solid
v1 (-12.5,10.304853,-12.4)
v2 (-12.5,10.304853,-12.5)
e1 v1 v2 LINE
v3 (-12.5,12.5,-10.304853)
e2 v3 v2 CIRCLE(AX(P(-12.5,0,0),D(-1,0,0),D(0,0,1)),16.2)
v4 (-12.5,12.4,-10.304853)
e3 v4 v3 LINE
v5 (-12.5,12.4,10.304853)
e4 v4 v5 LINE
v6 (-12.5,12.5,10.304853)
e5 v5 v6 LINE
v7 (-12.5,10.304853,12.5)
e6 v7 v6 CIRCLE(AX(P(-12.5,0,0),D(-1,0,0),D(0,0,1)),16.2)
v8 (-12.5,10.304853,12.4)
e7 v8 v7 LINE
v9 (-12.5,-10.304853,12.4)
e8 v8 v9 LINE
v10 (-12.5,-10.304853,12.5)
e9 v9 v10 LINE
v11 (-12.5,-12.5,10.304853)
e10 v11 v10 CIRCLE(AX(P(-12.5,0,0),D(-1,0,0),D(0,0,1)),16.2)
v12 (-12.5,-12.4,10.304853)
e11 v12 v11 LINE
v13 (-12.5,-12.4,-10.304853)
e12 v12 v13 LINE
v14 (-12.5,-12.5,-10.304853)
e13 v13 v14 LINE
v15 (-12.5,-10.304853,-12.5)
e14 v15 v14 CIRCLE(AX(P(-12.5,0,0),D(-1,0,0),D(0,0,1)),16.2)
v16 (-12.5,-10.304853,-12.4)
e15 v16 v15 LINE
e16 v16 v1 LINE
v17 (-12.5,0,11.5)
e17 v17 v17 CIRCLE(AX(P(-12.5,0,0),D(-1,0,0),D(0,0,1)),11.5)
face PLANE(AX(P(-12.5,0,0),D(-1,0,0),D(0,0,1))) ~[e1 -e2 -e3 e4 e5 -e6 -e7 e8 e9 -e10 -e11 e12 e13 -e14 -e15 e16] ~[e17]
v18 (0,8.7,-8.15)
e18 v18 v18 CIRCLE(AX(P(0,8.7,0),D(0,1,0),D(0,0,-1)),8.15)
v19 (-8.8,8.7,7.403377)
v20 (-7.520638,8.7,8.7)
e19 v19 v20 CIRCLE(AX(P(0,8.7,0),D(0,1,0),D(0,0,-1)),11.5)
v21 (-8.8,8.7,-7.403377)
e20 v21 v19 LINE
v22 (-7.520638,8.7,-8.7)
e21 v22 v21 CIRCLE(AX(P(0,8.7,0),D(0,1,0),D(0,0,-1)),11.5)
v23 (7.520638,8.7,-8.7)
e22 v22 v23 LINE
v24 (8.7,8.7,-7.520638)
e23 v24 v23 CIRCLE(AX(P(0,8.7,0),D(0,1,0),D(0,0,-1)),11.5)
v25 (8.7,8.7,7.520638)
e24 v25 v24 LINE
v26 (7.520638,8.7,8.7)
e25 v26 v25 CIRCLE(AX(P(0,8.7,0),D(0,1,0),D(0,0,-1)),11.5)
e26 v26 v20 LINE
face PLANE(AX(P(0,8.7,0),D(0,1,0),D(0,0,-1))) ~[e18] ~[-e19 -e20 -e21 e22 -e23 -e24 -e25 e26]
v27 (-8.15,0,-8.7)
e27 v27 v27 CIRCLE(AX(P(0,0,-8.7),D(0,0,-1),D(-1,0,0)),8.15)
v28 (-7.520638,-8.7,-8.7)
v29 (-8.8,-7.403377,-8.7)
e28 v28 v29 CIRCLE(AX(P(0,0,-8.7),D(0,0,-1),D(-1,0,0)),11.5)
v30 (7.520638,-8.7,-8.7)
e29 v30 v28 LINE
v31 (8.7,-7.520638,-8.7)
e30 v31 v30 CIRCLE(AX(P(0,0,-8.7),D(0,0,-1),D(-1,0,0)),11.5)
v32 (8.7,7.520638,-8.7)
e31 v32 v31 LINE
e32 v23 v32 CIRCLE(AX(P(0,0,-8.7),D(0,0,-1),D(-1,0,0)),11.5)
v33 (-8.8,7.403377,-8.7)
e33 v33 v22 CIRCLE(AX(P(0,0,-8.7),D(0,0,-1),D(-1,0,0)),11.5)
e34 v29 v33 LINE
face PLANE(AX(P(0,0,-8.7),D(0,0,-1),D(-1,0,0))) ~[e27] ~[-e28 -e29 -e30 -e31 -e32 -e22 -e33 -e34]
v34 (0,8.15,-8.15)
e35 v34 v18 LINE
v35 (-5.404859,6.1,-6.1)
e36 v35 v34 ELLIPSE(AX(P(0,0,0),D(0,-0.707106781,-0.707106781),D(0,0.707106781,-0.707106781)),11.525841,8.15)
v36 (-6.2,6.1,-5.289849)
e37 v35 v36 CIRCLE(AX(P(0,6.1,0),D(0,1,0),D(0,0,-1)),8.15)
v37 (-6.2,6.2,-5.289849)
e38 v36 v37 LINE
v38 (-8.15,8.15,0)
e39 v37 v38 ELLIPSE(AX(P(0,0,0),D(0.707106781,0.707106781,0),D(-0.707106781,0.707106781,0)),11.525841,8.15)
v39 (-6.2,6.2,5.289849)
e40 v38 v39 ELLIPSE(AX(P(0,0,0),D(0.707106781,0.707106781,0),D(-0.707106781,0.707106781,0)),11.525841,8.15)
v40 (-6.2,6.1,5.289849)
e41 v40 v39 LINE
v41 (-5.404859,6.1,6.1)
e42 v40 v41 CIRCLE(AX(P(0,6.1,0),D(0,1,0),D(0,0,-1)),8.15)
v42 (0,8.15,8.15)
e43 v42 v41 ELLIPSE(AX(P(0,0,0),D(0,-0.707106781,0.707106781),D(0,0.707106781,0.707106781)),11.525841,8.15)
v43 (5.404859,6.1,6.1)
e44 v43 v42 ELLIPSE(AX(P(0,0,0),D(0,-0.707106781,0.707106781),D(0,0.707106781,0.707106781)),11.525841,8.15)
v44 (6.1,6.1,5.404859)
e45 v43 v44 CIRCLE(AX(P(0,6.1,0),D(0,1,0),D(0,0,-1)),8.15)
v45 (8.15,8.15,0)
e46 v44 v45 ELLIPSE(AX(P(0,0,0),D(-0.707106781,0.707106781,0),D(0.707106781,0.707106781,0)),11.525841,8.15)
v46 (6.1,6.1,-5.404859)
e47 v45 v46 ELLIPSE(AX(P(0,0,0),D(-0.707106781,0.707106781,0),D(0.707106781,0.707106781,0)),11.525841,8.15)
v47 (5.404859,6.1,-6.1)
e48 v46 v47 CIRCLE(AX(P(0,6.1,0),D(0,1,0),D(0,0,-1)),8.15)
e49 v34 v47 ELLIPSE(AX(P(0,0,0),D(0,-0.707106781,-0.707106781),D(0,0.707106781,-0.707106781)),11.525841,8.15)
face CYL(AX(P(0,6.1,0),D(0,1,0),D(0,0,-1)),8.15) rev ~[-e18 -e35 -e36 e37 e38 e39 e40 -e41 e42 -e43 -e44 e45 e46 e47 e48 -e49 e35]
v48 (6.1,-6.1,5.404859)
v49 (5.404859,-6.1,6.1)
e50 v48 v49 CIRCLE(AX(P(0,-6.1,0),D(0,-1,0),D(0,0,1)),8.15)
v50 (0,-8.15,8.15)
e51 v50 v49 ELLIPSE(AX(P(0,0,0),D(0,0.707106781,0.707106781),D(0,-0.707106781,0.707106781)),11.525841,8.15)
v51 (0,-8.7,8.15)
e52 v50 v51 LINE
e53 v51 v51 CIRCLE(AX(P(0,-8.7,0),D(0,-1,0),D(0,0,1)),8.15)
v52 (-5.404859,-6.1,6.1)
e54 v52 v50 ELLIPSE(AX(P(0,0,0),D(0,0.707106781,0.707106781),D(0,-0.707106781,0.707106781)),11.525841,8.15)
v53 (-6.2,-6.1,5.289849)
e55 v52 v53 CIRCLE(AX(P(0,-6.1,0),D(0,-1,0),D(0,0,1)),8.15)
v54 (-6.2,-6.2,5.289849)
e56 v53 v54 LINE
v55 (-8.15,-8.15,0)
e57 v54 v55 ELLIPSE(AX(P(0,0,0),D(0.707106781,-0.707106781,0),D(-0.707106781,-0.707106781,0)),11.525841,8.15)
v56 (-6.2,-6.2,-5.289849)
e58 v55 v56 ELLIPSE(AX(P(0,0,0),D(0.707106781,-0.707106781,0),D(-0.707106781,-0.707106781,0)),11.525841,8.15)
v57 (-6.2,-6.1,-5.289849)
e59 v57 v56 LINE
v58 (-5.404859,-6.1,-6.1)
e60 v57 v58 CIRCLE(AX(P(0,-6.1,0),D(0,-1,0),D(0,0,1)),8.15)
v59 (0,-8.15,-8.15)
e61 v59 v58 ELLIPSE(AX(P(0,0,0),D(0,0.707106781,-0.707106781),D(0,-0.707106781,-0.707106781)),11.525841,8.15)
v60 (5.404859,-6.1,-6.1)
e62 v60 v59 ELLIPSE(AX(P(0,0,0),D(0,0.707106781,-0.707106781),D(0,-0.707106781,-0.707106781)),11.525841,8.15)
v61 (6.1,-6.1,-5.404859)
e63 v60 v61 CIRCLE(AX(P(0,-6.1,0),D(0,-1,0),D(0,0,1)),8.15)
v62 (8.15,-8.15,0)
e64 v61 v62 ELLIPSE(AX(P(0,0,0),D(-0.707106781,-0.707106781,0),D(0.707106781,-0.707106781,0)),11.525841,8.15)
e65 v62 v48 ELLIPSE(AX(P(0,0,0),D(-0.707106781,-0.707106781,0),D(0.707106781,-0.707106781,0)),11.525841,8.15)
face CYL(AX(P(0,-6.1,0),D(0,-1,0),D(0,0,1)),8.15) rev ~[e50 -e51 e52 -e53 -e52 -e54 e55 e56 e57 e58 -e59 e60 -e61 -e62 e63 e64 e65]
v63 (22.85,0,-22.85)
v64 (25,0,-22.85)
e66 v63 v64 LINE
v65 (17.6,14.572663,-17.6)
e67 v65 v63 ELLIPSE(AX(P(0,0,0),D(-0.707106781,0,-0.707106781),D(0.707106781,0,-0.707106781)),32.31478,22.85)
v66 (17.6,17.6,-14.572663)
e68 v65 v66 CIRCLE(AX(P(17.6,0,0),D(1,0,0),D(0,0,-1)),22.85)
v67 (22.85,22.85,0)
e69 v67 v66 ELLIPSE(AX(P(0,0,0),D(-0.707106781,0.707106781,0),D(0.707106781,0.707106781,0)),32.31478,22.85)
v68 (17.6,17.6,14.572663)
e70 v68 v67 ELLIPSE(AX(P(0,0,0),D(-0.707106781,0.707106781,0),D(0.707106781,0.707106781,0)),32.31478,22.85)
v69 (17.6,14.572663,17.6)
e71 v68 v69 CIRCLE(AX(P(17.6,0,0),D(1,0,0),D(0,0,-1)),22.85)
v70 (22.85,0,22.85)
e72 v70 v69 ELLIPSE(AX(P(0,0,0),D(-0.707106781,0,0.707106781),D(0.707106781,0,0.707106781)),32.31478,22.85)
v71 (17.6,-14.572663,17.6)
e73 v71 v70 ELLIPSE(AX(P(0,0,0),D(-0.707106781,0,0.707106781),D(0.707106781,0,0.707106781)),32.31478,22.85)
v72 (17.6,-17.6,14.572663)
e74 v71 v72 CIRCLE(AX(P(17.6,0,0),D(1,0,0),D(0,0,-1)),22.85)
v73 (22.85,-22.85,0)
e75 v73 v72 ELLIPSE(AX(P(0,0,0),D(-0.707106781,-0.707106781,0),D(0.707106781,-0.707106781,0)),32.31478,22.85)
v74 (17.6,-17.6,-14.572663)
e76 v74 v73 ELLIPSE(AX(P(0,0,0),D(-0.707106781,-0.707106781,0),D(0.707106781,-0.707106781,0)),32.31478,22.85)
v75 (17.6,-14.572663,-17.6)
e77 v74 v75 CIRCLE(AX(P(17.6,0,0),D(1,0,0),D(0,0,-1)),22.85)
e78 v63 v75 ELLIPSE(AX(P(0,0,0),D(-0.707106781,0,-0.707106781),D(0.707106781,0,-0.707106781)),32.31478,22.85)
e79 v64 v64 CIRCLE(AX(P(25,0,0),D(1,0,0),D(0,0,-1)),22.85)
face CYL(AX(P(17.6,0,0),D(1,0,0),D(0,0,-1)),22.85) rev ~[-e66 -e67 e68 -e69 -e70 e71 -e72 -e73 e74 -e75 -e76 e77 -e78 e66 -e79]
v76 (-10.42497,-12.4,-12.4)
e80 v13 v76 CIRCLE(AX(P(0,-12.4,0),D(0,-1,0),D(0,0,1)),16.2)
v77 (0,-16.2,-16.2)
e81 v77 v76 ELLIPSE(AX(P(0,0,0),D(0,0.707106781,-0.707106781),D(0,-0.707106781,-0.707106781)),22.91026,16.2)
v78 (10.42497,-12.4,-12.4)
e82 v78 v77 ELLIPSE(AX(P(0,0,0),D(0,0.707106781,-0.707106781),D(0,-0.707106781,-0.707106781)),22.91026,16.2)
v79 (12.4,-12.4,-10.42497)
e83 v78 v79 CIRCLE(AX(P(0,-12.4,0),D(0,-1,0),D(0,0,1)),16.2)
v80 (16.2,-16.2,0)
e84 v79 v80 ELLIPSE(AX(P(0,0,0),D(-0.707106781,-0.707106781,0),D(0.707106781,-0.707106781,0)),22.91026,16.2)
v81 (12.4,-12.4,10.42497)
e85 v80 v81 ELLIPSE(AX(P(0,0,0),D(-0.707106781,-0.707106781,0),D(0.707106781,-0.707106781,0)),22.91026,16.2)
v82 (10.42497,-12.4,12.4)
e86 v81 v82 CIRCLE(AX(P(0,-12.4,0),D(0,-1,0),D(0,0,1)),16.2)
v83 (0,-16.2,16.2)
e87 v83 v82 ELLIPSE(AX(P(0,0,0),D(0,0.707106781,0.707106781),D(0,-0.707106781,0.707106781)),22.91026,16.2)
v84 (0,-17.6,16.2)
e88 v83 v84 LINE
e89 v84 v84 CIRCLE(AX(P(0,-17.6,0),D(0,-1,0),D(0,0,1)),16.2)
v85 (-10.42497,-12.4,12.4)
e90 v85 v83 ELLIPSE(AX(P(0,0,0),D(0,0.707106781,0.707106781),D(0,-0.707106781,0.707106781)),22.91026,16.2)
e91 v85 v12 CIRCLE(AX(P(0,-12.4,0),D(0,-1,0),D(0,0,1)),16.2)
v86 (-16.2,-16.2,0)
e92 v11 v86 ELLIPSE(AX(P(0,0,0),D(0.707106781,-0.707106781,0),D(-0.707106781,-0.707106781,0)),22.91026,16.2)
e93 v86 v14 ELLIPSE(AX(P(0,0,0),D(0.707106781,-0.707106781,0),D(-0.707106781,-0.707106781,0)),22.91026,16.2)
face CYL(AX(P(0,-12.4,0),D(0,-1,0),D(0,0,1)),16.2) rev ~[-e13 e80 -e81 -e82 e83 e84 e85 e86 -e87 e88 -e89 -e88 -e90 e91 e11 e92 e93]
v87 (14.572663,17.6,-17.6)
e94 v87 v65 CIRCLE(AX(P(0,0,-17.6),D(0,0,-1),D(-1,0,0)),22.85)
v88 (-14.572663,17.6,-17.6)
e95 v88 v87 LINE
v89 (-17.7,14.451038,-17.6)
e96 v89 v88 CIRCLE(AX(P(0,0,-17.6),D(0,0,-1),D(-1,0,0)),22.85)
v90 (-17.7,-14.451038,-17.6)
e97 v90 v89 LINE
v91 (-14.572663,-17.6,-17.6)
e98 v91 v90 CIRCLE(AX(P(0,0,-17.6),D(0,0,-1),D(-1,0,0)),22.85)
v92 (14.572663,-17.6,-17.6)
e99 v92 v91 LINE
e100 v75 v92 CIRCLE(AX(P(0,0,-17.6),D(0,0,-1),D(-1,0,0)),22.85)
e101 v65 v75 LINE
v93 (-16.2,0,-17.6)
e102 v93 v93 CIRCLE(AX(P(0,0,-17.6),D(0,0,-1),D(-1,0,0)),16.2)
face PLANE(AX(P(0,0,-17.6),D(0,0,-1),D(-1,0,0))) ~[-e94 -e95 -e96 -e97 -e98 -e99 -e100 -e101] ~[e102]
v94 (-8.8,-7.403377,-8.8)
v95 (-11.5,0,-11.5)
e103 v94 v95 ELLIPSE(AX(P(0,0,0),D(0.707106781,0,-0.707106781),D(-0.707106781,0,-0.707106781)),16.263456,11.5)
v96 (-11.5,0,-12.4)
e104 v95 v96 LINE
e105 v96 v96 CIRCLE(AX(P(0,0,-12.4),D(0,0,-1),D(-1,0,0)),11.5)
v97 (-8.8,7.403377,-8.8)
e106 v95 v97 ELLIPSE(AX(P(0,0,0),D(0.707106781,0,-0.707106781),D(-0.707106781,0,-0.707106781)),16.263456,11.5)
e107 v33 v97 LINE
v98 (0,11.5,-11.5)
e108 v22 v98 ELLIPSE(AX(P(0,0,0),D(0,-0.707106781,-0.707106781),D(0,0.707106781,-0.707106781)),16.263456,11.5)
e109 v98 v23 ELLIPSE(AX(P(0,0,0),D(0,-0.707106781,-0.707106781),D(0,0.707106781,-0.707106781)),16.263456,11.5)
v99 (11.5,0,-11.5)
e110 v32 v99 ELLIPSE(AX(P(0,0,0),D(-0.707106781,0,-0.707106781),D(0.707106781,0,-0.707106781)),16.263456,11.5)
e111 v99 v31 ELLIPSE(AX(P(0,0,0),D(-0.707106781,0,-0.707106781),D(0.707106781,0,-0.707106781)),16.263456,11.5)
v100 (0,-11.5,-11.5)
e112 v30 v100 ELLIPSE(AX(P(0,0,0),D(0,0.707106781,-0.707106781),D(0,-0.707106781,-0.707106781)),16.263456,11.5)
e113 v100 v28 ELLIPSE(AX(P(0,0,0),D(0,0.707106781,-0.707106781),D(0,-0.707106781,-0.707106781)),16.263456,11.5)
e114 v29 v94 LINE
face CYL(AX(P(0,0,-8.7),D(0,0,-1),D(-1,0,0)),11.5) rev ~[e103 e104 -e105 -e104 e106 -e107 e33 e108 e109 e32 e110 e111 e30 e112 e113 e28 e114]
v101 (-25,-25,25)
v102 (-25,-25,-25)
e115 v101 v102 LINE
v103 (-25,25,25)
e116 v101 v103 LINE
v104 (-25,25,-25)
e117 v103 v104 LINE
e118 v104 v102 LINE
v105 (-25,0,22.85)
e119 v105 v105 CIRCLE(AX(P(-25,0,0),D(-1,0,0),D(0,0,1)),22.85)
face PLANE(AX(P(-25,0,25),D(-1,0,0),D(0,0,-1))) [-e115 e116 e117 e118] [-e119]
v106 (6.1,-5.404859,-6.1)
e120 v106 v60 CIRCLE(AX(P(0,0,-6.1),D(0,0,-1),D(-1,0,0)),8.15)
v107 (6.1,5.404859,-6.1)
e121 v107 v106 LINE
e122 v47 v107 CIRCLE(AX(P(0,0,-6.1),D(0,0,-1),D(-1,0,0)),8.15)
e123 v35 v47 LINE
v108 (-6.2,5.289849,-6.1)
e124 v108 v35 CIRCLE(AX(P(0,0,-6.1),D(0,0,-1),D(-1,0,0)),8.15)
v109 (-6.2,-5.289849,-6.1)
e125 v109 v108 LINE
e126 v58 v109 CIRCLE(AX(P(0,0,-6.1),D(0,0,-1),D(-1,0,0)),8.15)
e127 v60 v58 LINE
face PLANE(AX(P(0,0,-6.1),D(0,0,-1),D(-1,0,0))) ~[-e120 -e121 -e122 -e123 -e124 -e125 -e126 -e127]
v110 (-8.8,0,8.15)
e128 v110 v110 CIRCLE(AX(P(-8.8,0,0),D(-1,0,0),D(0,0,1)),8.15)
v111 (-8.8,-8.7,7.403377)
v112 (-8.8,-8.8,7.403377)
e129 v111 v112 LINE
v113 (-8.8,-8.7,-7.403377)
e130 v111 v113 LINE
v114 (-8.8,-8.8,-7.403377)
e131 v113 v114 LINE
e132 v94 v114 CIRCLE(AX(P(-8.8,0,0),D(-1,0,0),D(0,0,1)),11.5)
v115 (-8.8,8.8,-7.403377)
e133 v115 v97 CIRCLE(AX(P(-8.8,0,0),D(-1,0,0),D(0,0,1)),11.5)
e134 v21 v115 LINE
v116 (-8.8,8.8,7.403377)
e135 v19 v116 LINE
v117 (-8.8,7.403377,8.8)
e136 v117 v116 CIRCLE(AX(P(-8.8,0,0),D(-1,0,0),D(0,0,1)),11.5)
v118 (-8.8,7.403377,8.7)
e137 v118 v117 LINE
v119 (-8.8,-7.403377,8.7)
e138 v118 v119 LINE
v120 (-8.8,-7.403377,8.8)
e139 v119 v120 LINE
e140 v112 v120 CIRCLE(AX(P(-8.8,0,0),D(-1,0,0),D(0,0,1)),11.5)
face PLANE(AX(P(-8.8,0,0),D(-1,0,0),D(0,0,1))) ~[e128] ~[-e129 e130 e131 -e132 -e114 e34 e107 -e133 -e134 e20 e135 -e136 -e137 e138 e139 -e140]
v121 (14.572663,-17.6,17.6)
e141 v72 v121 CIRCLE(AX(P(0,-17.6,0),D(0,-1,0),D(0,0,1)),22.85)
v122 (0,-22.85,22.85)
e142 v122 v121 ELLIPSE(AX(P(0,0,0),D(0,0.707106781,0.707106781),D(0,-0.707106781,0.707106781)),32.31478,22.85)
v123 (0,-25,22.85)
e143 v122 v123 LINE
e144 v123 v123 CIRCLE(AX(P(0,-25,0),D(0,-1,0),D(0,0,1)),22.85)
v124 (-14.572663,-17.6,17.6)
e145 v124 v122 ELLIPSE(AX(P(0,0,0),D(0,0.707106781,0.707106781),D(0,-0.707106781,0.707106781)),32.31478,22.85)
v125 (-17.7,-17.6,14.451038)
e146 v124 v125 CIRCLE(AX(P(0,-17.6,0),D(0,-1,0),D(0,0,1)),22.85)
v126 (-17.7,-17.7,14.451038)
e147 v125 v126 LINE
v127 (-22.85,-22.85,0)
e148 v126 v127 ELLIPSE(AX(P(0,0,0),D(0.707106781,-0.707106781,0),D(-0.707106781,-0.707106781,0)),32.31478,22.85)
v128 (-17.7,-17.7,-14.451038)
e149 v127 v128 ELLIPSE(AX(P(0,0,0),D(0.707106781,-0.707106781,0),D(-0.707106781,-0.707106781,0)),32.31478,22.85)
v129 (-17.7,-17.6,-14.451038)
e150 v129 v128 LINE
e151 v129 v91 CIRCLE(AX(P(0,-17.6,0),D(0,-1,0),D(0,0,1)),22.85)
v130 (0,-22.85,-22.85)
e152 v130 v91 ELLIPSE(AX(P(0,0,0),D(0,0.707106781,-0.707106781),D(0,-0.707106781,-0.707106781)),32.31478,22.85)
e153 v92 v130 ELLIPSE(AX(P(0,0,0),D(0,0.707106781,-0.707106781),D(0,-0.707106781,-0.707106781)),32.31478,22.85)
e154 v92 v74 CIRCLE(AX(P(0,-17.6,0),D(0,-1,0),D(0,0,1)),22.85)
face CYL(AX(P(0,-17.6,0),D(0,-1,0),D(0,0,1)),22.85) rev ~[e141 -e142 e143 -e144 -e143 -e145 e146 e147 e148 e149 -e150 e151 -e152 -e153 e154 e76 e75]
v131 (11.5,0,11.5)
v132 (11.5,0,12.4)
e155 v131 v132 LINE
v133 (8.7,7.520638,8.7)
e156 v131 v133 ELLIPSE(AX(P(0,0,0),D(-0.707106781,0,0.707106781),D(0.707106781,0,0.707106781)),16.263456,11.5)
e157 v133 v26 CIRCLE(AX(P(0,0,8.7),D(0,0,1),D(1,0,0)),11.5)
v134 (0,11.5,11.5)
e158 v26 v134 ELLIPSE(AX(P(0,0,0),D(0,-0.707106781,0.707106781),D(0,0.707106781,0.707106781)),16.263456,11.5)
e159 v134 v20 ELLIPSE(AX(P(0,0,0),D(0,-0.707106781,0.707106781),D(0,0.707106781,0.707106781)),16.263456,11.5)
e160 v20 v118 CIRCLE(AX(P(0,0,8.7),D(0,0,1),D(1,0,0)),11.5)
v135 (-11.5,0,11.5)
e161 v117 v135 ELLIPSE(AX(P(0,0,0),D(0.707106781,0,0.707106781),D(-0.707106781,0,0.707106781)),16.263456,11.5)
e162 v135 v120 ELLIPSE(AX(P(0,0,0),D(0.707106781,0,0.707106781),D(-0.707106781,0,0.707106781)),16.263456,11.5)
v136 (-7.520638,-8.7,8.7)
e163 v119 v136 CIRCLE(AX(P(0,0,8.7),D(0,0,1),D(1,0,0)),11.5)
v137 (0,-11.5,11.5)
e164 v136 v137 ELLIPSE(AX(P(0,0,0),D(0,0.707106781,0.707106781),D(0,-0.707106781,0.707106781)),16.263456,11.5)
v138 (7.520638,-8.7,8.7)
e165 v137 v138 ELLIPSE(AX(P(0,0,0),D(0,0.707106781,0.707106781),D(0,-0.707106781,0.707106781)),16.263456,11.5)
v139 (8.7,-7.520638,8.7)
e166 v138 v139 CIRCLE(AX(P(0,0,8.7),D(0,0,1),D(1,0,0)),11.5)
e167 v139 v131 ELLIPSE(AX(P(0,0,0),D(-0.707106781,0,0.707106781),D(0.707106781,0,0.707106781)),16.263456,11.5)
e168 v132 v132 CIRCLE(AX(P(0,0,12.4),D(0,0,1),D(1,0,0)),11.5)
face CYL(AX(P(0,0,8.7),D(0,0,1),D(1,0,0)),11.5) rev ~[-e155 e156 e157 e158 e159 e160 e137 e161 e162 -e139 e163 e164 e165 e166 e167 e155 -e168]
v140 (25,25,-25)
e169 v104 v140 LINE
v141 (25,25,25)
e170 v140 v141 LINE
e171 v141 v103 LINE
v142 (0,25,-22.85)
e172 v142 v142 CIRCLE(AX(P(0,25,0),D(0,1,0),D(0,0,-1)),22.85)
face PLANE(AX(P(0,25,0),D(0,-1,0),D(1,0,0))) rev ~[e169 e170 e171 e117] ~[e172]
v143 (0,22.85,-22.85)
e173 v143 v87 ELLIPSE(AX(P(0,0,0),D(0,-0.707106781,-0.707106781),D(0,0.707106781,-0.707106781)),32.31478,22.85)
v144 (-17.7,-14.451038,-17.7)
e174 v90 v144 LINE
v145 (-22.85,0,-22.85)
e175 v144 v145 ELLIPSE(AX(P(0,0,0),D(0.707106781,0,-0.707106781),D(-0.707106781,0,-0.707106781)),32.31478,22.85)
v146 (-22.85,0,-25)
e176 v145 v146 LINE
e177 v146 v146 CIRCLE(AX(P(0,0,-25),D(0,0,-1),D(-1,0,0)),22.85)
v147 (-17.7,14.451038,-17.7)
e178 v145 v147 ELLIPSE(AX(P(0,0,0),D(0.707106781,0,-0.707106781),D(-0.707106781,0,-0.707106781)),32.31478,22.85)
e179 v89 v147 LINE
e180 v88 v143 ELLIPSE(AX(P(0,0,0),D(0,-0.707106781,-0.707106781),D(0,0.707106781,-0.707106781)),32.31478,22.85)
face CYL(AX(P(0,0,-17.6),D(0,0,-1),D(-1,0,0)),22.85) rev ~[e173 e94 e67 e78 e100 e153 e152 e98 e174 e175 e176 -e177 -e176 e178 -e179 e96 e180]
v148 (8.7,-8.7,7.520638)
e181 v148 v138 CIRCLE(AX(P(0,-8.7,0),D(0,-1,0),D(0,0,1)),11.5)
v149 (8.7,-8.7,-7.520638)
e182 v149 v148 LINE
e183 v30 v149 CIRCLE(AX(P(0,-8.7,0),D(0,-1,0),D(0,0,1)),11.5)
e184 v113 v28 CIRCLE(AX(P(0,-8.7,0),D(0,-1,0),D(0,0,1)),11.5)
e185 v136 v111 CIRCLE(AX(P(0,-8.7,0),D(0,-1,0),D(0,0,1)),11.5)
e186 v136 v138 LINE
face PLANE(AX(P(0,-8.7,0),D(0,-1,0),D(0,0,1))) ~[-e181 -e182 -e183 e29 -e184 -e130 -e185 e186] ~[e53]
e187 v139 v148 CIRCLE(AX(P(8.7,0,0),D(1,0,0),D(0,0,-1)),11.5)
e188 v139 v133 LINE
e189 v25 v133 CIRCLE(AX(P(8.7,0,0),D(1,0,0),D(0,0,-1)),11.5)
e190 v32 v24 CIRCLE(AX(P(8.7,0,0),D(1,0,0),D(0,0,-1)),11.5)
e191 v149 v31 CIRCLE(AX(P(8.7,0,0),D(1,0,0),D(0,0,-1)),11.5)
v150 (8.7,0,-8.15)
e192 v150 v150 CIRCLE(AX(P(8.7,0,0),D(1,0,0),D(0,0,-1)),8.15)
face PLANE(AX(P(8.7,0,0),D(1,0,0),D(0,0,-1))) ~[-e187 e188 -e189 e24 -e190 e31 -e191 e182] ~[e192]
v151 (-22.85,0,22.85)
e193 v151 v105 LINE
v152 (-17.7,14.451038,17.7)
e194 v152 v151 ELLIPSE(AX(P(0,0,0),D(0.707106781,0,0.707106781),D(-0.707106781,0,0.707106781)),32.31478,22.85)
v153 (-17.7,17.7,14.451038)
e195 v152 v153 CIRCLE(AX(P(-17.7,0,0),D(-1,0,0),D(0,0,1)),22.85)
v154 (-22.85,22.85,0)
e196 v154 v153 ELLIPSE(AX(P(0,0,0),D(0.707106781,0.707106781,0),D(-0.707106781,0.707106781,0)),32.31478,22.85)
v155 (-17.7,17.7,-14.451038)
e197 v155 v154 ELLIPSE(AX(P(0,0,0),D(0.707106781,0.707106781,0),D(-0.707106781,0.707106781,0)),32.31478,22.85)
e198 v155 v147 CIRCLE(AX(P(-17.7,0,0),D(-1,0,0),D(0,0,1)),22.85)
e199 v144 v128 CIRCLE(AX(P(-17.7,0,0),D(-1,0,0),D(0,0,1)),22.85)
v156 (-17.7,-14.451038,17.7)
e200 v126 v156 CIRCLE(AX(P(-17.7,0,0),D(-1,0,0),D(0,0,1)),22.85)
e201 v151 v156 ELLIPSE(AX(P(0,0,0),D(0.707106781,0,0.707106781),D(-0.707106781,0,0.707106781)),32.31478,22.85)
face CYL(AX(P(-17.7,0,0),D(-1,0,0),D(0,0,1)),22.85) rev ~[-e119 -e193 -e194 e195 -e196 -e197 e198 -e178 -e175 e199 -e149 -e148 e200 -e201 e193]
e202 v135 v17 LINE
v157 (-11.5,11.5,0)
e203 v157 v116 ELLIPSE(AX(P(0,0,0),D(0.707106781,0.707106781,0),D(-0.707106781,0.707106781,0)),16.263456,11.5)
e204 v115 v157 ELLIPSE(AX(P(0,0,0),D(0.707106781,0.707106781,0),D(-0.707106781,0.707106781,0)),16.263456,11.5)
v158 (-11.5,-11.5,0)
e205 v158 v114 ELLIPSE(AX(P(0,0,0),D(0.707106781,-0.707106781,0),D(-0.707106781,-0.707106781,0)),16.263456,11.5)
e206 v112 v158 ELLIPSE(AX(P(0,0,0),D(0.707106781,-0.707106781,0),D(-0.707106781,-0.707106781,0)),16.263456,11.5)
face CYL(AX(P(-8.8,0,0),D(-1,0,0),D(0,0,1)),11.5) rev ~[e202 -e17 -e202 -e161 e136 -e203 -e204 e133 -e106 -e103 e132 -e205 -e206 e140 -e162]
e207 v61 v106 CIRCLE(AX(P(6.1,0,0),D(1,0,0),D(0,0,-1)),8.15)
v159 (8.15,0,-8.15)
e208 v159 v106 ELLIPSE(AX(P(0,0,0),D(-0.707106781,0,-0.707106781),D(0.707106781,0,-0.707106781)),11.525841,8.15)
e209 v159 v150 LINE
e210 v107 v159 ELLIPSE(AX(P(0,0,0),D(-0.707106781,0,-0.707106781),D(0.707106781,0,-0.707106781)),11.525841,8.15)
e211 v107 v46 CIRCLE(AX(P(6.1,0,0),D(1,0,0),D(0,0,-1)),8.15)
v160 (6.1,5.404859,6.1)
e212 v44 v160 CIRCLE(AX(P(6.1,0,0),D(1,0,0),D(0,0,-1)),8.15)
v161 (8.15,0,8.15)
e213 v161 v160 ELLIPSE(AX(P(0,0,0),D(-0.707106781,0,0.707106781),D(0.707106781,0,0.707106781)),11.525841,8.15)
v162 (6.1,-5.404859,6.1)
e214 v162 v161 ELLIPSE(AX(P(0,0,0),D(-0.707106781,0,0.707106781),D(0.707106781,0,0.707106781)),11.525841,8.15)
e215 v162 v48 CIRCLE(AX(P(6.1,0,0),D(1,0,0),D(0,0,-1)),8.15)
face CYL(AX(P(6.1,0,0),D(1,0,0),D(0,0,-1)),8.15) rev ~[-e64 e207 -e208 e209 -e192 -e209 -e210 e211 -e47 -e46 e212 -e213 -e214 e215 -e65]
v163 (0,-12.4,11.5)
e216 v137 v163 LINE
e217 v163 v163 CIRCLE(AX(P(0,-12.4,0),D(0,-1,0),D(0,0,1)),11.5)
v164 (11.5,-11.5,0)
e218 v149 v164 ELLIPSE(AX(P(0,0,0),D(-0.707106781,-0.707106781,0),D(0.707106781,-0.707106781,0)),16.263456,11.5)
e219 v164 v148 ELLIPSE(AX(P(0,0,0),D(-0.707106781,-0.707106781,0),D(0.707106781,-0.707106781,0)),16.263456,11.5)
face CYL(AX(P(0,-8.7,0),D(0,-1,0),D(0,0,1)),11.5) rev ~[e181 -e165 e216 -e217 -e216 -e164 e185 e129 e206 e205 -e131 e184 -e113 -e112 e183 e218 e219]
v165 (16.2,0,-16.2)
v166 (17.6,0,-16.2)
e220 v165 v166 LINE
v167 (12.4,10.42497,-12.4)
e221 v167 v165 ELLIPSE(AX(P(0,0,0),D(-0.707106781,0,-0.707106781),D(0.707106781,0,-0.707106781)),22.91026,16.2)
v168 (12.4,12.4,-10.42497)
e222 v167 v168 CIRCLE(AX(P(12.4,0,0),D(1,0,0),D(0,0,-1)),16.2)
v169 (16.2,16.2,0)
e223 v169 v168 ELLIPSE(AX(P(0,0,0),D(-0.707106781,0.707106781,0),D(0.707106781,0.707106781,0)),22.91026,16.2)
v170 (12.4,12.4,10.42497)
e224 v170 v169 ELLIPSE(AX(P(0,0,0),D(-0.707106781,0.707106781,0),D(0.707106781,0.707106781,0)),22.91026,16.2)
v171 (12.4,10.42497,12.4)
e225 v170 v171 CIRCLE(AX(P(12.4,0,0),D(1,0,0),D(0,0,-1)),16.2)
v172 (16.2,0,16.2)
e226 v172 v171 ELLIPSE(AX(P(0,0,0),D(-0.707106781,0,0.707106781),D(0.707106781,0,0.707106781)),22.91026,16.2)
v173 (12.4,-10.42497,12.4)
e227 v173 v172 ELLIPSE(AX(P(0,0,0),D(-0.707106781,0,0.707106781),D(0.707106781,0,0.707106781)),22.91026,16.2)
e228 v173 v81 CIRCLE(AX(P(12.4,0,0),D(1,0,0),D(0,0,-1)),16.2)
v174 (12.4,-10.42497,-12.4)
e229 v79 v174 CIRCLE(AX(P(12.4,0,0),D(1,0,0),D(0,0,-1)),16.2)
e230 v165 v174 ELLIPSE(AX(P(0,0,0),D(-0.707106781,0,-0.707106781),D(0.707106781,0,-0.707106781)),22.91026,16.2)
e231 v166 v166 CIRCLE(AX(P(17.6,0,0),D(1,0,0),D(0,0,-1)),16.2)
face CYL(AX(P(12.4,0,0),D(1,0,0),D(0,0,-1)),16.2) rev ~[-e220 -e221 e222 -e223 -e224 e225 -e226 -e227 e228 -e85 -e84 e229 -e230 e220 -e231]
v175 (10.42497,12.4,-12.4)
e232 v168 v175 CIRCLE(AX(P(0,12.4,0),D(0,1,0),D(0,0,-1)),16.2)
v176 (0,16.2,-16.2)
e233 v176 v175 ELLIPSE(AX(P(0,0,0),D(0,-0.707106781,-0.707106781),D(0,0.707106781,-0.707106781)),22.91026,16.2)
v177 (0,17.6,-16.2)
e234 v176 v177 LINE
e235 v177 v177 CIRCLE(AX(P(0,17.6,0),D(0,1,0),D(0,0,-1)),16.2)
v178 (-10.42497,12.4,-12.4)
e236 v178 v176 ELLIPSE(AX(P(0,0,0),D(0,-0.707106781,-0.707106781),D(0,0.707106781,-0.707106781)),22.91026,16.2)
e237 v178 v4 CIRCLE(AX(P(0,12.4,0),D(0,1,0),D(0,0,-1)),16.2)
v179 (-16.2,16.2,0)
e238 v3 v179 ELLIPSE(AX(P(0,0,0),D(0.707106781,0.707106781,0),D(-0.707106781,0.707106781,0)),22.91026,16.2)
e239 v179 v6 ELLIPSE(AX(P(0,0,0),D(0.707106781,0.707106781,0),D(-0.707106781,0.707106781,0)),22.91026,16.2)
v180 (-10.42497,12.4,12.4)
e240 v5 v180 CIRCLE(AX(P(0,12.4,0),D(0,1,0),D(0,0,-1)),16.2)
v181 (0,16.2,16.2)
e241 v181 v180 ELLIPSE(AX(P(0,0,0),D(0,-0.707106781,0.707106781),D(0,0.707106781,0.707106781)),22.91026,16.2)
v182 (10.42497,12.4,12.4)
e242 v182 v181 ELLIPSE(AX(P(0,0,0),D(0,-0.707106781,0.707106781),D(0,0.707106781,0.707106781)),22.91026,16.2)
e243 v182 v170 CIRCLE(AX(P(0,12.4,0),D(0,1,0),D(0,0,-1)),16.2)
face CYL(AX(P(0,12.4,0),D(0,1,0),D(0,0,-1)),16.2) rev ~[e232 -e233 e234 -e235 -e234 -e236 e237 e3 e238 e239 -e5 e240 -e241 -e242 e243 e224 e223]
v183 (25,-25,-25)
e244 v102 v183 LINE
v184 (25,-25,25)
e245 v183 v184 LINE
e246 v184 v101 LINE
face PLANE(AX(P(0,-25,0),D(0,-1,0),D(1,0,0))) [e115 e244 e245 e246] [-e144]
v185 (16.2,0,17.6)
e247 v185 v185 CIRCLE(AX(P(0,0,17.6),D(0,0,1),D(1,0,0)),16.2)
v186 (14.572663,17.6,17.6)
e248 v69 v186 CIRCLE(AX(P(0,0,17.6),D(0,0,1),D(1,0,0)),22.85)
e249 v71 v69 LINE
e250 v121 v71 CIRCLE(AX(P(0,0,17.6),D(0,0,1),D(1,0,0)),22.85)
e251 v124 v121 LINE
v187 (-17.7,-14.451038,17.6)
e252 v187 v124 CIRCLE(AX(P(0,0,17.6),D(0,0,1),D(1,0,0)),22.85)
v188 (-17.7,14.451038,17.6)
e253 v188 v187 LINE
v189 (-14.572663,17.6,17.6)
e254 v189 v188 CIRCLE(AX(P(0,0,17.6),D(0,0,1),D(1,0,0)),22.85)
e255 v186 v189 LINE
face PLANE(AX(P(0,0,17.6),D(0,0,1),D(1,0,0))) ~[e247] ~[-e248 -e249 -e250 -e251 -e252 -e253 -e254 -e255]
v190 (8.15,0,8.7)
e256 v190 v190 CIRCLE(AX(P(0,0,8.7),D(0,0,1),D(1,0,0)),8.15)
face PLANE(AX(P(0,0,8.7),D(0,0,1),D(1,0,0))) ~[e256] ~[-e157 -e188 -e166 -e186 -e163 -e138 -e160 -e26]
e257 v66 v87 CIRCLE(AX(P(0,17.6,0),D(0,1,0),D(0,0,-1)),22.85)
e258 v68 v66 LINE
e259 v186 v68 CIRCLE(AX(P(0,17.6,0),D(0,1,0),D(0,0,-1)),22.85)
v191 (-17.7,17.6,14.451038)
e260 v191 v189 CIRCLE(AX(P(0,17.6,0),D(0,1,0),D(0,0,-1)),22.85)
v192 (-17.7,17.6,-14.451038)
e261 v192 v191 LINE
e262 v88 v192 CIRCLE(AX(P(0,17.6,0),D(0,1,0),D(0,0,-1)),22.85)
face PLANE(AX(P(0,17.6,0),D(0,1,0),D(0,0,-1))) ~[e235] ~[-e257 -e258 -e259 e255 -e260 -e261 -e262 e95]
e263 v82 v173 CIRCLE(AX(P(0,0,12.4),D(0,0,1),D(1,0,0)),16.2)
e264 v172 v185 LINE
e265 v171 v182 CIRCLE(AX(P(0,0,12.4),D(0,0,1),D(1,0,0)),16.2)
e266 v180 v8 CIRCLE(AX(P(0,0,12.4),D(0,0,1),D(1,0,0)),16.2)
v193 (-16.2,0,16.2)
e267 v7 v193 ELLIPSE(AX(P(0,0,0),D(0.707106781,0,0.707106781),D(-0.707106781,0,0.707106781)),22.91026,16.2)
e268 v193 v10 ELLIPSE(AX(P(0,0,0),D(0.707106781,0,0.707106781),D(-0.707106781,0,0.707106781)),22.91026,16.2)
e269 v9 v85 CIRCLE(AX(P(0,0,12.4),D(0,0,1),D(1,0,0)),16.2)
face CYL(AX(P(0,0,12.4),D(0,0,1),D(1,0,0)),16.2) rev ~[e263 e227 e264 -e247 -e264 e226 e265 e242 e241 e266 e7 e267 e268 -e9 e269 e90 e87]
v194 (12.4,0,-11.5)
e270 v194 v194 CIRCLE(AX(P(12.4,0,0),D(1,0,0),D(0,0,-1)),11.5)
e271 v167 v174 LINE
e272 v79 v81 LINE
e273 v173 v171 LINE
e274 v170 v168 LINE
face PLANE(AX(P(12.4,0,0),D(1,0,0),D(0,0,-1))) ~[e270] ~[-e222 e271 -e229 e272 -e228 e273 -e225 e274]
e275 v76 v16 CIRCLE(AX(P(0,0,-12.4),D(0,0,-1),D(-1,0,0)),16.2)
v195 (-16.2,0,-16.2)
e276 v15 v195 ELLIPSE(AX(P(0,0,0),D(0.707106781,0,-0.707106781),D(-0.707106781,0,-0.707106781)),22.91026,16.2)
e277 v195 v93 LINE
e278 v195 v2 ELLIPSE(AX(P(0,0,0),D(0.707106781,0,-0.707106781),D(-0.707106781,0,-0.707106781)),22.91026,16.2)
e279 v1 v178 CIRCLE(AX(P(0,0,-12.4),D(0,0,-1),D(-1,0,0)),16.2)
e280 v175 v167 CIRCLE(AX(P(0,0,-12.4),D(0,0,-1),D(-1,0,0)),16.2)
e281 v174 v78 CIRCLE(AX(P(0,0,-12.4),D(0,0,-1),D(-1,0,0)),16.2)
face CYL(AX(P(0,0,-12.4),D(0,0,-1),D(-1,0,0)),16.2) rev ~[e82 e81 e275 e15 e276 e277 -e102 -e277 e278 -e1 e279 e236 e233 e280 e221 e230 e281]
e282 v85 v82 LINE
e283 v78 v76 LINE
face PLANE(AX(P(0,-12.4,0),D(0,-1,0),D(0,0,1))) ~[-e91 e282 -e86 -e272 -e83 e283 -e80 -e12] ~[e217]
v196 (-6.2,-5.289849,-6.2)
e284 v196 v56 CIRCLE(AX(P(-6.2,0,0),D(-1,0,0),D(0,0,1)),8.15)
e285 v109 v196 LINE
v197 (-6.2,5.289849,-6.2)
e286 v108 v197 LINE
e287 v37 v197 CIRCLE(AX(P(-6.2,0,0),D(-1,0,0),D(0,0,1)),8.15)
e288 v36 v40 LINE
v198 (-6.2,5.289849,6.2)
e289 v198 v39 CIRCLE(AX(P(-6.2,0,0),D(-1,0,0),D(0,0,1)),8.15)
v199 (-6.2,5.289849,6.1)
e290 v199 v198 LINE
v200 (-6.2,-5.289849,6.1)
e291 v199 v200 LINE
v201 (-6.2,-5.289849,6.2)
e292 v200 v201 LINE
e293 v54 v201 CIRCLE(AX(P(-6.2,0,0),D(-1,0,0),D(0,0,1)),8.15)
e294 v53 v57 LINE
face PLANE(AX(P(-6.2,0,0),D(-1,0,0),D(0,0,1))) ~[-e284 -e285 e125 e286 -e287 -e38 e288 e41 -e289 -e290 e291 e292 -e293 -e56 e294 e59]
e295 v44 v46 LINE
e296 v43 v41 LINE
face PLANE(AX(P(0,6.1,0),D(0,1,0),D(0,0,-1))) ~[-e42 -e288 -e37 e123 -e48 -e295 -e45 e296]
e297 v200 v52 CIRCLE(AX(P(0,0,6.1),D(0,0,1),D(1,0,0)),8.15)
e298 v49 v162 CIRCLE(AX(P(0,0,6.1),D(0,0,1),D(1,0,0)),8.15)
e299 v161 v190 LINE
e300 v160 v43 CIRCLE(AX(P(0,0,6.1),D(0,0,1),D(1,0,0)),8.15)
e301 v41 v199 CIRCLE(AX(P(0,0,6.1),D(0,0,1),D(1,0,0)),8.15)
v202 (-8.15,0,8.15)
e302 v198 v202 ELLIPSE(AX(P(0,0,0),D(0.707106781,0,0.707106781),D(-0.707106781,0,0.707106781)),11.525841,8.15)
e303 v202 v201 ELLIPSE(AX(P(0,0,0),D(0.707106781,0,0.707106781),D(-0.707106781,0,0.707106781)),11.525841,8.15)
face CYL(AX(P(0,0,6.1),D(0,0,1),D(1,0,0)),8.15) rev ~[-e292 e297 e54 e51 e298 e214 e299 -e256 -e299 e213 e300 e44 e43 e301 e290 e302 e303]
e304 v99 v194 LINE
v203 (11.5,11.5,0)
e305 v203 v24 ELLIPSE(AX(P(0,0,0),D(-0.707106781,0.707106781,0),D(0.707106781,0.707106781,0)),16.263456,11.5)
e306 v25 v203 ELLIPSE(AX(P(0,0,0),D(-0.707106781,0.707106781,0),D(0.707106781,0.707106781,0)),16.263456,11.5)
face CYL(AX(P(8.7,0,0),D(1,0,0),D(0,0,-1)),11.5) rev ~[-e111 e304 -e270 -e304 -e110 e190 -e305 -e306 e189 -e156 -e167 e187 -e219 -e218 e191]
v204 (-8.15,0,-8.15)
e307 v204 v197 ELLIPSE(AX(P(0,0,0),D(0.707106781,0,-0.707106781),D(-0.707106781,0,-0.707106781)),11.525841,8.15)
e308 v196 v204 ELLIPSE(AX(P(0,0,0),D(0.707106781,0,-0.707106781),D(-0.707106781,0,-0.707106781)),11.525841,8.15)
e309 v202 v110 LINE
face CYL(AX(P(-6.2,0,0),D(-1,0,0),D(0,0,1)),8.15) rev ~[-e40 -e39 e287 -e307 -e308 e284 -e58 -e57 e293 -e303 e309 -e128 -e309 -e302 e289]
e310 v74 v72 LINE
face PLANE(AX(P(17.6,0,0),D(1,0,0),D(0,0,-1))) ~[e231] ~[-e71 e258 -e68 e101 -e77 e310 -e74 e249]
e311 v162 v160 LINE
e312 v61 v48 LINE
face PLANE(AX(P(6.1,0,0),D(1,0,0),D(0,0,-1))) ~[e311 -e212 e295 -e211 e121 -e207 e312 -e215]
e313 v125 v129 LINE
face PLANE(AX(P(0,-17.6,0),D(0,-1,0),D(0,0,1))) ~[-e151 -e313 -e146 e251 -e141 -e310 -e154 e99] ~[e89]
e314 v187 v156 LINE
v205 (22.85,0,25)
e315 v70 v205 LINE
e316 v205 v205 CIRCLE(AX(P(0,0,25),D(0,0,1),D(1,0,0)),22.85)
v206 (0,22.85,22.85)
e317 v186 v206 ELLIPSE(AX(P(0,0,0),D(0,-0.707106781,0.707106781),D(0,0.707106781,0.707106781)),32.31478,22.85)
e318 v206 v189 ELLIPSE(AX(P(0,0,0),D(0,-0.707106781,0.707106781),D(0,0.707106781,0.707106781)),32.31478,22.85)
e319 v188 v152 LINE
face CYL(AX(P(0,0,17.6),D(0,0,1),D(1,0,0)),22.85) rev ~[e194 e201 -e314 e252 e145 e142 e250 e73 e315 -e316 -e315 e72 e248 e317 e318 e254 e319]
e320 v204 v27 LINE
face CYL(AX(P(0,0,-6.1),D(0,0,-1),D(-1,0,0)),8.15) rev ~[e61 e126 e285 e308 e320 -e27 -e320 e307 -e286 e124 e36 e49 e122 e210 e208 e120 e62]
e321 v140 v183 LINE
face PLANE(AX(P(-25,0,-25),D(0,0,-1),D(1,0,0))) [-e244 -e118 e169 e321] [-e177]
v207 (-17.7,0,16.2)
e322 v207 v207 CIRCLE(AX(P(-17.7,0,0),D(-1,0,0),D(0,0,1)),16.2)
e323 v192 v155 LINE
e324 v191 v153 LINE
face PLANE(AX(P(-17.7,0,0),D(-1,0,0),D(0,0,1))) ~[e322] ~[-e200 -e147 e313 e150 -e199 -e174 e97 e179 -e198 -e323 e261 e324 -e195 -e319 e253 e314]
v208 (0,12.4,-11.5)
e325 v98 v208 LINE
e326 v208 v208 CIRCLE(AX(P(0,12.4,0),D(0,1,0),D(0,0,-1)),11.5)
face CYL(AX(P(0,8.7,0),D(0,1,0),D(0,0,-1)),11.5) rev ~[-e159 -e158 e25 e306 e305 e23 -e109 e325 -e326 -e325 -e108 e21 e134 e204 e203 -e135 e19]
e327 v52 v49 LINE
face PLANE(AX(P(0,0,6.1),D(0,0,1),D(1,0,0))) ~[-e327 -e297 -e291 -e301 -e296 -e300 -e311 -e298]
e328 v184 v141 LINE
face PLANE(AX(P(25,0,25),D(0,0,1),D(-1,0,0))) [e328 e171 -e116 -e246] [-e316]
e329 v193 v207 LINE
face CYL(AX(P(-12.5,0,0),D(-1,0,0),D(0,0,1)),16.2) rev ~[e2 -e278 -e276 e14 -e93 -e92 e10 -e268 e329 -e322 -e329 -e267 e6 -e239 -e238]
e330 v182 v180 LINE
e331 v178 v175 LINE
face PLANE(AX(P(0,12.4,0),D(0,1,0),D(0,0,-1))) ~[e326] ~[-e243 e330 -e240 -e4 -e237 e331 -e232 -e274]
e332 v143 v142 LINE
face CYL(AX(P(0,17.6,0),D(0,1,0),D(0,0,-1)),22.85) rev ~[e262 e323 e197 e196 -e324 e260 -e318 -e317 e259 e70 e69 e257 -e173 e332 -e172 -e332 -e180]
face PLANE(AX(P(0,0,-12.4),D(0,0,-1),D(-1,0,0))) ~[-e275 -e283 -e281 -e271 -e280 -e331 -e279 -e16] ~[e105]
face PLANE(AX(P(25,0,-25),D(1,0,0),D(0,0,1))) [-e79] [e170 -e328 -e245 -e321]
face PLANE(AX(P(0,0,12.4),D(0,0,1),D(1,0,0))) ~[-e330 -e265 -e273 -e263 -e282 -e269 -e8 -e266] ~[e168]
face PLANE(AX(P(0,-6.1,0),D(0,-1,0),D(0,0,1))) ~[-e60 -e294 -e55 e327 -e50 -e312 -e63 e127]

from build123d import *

# Parameters (mm, degrees)
F2_DEPTH = 25


with BuildPart() as f2:
    # F1 (on Front) → F2 (new body, symmetric)
    with BuildSketch(Plane.XZ):
        Polygon((-25, 25), (-25, 0), (-25, -25), (25, -25), (25, 25), align=None)
    extrude(amount=F2_DEPTH, both=True)

    # F3 (on Front) → F4 (revolve, cut)
    with BuildSketch(Plane.XZ):
        Polygon((22.85, 25), (0, 25), (0, 6.1), (8.15, 6.1), (8.15, 8.7), (11.5, 8.7), (11.5, 12.4), (16.2, 12.4), (16.2, 17.6), (22.85, 17.6), align=None)
    revolve(axis=Axis((0, 0, 15.55), (0, 0, 1)), mode=Mode.SUBTRACT)

    # F5 (on Front) → F6 (revolve, cut)
    with BuildSketch(Plane.XZ):
        Polygon((-22.85, -25), (0, -25), (0, -6.1), (-8.15, -6.1), (-8.15, -8.7), (-11.5, -8.7), (-11.5, -12.4), (-16.2, -12.4), (-16.2, -17.6), (-22.85, -17.6), align=None)
    revolve(axis=Axis((0, 0, -15.55), (0, 0, -1)), mode=Mode.SUBTRACT)

    # F7 (on Right) → F8 (revolve, cut)
    with BuildSketch(Plane.YZ):
        Polygon((-25, 22.85), (-25, 0), (-6.1, 0), (-6.1, 8.15), (-8.7, 8.15), (-8.7, 11.5), (-12.4, 11.5), (-12.4, 16.2), (-17.6, 16.2), (-17.6, 22.85), align=None)
    revolve(axis=Axis((0, -15.55, 0), (0, -1, 0)), mode=Mode.SUBTRACT)

    # F9 (on Right) → F10 (revolve, cut)
    with BuildSketch(Plane.YZ):
        Polygon((25, -22.85), (25, 0), (6.1, 0), (6.1, -8.15), (8.7, -8.15), (8.7, -11.5), (12.4, -11.5), (12.4, -16.2), (17.6, -16.2), (17.6, -22.85), align=None)
    revolve(axis=Axis((0, 15.55, 0), (0, 1, 0)), mode=Mode.SUBTRACT)

    # F11 (on Front) → F12 (revolve, cut)
    with BuildSketch(Plane.XZ):
        Polygon((-25.1000002027, 22.85), (-25.1000002027, 0), (-6.2000002027, 0), (-6.2000002027, 8.15), (-8.8000002027, 8.15), (-8.8000002027, 11.5), (-12.5000002027, 11.5), (-12.5000002027, 16.2), (-17.7000002027, 16.2), (-17.7000002027, 22.85), align=None)
    revolve(axis=Axis((-15.6500002027, 0, 0), (-1, 0, 0)), mode=Mode.SUBTRACT)

    # F13 (on Front) → F14 (revolve, cut)
    with BuildSketch(Plane.XZ):
        Polygon((25, -22.85), (25, 0), (6.1, 0), (6.1, -8.15), (8.7, -8.15), (8.7, -11.5), (12.4, -11.5), (12.4, -16.2), (17.6, -16.2), (17.6, -22.85), align=None)
    revolve(axis=Axis((15.55, 0, 0), (1, 0, 0)), mode=Mode.SUBTRACT)


solid = f2.part
